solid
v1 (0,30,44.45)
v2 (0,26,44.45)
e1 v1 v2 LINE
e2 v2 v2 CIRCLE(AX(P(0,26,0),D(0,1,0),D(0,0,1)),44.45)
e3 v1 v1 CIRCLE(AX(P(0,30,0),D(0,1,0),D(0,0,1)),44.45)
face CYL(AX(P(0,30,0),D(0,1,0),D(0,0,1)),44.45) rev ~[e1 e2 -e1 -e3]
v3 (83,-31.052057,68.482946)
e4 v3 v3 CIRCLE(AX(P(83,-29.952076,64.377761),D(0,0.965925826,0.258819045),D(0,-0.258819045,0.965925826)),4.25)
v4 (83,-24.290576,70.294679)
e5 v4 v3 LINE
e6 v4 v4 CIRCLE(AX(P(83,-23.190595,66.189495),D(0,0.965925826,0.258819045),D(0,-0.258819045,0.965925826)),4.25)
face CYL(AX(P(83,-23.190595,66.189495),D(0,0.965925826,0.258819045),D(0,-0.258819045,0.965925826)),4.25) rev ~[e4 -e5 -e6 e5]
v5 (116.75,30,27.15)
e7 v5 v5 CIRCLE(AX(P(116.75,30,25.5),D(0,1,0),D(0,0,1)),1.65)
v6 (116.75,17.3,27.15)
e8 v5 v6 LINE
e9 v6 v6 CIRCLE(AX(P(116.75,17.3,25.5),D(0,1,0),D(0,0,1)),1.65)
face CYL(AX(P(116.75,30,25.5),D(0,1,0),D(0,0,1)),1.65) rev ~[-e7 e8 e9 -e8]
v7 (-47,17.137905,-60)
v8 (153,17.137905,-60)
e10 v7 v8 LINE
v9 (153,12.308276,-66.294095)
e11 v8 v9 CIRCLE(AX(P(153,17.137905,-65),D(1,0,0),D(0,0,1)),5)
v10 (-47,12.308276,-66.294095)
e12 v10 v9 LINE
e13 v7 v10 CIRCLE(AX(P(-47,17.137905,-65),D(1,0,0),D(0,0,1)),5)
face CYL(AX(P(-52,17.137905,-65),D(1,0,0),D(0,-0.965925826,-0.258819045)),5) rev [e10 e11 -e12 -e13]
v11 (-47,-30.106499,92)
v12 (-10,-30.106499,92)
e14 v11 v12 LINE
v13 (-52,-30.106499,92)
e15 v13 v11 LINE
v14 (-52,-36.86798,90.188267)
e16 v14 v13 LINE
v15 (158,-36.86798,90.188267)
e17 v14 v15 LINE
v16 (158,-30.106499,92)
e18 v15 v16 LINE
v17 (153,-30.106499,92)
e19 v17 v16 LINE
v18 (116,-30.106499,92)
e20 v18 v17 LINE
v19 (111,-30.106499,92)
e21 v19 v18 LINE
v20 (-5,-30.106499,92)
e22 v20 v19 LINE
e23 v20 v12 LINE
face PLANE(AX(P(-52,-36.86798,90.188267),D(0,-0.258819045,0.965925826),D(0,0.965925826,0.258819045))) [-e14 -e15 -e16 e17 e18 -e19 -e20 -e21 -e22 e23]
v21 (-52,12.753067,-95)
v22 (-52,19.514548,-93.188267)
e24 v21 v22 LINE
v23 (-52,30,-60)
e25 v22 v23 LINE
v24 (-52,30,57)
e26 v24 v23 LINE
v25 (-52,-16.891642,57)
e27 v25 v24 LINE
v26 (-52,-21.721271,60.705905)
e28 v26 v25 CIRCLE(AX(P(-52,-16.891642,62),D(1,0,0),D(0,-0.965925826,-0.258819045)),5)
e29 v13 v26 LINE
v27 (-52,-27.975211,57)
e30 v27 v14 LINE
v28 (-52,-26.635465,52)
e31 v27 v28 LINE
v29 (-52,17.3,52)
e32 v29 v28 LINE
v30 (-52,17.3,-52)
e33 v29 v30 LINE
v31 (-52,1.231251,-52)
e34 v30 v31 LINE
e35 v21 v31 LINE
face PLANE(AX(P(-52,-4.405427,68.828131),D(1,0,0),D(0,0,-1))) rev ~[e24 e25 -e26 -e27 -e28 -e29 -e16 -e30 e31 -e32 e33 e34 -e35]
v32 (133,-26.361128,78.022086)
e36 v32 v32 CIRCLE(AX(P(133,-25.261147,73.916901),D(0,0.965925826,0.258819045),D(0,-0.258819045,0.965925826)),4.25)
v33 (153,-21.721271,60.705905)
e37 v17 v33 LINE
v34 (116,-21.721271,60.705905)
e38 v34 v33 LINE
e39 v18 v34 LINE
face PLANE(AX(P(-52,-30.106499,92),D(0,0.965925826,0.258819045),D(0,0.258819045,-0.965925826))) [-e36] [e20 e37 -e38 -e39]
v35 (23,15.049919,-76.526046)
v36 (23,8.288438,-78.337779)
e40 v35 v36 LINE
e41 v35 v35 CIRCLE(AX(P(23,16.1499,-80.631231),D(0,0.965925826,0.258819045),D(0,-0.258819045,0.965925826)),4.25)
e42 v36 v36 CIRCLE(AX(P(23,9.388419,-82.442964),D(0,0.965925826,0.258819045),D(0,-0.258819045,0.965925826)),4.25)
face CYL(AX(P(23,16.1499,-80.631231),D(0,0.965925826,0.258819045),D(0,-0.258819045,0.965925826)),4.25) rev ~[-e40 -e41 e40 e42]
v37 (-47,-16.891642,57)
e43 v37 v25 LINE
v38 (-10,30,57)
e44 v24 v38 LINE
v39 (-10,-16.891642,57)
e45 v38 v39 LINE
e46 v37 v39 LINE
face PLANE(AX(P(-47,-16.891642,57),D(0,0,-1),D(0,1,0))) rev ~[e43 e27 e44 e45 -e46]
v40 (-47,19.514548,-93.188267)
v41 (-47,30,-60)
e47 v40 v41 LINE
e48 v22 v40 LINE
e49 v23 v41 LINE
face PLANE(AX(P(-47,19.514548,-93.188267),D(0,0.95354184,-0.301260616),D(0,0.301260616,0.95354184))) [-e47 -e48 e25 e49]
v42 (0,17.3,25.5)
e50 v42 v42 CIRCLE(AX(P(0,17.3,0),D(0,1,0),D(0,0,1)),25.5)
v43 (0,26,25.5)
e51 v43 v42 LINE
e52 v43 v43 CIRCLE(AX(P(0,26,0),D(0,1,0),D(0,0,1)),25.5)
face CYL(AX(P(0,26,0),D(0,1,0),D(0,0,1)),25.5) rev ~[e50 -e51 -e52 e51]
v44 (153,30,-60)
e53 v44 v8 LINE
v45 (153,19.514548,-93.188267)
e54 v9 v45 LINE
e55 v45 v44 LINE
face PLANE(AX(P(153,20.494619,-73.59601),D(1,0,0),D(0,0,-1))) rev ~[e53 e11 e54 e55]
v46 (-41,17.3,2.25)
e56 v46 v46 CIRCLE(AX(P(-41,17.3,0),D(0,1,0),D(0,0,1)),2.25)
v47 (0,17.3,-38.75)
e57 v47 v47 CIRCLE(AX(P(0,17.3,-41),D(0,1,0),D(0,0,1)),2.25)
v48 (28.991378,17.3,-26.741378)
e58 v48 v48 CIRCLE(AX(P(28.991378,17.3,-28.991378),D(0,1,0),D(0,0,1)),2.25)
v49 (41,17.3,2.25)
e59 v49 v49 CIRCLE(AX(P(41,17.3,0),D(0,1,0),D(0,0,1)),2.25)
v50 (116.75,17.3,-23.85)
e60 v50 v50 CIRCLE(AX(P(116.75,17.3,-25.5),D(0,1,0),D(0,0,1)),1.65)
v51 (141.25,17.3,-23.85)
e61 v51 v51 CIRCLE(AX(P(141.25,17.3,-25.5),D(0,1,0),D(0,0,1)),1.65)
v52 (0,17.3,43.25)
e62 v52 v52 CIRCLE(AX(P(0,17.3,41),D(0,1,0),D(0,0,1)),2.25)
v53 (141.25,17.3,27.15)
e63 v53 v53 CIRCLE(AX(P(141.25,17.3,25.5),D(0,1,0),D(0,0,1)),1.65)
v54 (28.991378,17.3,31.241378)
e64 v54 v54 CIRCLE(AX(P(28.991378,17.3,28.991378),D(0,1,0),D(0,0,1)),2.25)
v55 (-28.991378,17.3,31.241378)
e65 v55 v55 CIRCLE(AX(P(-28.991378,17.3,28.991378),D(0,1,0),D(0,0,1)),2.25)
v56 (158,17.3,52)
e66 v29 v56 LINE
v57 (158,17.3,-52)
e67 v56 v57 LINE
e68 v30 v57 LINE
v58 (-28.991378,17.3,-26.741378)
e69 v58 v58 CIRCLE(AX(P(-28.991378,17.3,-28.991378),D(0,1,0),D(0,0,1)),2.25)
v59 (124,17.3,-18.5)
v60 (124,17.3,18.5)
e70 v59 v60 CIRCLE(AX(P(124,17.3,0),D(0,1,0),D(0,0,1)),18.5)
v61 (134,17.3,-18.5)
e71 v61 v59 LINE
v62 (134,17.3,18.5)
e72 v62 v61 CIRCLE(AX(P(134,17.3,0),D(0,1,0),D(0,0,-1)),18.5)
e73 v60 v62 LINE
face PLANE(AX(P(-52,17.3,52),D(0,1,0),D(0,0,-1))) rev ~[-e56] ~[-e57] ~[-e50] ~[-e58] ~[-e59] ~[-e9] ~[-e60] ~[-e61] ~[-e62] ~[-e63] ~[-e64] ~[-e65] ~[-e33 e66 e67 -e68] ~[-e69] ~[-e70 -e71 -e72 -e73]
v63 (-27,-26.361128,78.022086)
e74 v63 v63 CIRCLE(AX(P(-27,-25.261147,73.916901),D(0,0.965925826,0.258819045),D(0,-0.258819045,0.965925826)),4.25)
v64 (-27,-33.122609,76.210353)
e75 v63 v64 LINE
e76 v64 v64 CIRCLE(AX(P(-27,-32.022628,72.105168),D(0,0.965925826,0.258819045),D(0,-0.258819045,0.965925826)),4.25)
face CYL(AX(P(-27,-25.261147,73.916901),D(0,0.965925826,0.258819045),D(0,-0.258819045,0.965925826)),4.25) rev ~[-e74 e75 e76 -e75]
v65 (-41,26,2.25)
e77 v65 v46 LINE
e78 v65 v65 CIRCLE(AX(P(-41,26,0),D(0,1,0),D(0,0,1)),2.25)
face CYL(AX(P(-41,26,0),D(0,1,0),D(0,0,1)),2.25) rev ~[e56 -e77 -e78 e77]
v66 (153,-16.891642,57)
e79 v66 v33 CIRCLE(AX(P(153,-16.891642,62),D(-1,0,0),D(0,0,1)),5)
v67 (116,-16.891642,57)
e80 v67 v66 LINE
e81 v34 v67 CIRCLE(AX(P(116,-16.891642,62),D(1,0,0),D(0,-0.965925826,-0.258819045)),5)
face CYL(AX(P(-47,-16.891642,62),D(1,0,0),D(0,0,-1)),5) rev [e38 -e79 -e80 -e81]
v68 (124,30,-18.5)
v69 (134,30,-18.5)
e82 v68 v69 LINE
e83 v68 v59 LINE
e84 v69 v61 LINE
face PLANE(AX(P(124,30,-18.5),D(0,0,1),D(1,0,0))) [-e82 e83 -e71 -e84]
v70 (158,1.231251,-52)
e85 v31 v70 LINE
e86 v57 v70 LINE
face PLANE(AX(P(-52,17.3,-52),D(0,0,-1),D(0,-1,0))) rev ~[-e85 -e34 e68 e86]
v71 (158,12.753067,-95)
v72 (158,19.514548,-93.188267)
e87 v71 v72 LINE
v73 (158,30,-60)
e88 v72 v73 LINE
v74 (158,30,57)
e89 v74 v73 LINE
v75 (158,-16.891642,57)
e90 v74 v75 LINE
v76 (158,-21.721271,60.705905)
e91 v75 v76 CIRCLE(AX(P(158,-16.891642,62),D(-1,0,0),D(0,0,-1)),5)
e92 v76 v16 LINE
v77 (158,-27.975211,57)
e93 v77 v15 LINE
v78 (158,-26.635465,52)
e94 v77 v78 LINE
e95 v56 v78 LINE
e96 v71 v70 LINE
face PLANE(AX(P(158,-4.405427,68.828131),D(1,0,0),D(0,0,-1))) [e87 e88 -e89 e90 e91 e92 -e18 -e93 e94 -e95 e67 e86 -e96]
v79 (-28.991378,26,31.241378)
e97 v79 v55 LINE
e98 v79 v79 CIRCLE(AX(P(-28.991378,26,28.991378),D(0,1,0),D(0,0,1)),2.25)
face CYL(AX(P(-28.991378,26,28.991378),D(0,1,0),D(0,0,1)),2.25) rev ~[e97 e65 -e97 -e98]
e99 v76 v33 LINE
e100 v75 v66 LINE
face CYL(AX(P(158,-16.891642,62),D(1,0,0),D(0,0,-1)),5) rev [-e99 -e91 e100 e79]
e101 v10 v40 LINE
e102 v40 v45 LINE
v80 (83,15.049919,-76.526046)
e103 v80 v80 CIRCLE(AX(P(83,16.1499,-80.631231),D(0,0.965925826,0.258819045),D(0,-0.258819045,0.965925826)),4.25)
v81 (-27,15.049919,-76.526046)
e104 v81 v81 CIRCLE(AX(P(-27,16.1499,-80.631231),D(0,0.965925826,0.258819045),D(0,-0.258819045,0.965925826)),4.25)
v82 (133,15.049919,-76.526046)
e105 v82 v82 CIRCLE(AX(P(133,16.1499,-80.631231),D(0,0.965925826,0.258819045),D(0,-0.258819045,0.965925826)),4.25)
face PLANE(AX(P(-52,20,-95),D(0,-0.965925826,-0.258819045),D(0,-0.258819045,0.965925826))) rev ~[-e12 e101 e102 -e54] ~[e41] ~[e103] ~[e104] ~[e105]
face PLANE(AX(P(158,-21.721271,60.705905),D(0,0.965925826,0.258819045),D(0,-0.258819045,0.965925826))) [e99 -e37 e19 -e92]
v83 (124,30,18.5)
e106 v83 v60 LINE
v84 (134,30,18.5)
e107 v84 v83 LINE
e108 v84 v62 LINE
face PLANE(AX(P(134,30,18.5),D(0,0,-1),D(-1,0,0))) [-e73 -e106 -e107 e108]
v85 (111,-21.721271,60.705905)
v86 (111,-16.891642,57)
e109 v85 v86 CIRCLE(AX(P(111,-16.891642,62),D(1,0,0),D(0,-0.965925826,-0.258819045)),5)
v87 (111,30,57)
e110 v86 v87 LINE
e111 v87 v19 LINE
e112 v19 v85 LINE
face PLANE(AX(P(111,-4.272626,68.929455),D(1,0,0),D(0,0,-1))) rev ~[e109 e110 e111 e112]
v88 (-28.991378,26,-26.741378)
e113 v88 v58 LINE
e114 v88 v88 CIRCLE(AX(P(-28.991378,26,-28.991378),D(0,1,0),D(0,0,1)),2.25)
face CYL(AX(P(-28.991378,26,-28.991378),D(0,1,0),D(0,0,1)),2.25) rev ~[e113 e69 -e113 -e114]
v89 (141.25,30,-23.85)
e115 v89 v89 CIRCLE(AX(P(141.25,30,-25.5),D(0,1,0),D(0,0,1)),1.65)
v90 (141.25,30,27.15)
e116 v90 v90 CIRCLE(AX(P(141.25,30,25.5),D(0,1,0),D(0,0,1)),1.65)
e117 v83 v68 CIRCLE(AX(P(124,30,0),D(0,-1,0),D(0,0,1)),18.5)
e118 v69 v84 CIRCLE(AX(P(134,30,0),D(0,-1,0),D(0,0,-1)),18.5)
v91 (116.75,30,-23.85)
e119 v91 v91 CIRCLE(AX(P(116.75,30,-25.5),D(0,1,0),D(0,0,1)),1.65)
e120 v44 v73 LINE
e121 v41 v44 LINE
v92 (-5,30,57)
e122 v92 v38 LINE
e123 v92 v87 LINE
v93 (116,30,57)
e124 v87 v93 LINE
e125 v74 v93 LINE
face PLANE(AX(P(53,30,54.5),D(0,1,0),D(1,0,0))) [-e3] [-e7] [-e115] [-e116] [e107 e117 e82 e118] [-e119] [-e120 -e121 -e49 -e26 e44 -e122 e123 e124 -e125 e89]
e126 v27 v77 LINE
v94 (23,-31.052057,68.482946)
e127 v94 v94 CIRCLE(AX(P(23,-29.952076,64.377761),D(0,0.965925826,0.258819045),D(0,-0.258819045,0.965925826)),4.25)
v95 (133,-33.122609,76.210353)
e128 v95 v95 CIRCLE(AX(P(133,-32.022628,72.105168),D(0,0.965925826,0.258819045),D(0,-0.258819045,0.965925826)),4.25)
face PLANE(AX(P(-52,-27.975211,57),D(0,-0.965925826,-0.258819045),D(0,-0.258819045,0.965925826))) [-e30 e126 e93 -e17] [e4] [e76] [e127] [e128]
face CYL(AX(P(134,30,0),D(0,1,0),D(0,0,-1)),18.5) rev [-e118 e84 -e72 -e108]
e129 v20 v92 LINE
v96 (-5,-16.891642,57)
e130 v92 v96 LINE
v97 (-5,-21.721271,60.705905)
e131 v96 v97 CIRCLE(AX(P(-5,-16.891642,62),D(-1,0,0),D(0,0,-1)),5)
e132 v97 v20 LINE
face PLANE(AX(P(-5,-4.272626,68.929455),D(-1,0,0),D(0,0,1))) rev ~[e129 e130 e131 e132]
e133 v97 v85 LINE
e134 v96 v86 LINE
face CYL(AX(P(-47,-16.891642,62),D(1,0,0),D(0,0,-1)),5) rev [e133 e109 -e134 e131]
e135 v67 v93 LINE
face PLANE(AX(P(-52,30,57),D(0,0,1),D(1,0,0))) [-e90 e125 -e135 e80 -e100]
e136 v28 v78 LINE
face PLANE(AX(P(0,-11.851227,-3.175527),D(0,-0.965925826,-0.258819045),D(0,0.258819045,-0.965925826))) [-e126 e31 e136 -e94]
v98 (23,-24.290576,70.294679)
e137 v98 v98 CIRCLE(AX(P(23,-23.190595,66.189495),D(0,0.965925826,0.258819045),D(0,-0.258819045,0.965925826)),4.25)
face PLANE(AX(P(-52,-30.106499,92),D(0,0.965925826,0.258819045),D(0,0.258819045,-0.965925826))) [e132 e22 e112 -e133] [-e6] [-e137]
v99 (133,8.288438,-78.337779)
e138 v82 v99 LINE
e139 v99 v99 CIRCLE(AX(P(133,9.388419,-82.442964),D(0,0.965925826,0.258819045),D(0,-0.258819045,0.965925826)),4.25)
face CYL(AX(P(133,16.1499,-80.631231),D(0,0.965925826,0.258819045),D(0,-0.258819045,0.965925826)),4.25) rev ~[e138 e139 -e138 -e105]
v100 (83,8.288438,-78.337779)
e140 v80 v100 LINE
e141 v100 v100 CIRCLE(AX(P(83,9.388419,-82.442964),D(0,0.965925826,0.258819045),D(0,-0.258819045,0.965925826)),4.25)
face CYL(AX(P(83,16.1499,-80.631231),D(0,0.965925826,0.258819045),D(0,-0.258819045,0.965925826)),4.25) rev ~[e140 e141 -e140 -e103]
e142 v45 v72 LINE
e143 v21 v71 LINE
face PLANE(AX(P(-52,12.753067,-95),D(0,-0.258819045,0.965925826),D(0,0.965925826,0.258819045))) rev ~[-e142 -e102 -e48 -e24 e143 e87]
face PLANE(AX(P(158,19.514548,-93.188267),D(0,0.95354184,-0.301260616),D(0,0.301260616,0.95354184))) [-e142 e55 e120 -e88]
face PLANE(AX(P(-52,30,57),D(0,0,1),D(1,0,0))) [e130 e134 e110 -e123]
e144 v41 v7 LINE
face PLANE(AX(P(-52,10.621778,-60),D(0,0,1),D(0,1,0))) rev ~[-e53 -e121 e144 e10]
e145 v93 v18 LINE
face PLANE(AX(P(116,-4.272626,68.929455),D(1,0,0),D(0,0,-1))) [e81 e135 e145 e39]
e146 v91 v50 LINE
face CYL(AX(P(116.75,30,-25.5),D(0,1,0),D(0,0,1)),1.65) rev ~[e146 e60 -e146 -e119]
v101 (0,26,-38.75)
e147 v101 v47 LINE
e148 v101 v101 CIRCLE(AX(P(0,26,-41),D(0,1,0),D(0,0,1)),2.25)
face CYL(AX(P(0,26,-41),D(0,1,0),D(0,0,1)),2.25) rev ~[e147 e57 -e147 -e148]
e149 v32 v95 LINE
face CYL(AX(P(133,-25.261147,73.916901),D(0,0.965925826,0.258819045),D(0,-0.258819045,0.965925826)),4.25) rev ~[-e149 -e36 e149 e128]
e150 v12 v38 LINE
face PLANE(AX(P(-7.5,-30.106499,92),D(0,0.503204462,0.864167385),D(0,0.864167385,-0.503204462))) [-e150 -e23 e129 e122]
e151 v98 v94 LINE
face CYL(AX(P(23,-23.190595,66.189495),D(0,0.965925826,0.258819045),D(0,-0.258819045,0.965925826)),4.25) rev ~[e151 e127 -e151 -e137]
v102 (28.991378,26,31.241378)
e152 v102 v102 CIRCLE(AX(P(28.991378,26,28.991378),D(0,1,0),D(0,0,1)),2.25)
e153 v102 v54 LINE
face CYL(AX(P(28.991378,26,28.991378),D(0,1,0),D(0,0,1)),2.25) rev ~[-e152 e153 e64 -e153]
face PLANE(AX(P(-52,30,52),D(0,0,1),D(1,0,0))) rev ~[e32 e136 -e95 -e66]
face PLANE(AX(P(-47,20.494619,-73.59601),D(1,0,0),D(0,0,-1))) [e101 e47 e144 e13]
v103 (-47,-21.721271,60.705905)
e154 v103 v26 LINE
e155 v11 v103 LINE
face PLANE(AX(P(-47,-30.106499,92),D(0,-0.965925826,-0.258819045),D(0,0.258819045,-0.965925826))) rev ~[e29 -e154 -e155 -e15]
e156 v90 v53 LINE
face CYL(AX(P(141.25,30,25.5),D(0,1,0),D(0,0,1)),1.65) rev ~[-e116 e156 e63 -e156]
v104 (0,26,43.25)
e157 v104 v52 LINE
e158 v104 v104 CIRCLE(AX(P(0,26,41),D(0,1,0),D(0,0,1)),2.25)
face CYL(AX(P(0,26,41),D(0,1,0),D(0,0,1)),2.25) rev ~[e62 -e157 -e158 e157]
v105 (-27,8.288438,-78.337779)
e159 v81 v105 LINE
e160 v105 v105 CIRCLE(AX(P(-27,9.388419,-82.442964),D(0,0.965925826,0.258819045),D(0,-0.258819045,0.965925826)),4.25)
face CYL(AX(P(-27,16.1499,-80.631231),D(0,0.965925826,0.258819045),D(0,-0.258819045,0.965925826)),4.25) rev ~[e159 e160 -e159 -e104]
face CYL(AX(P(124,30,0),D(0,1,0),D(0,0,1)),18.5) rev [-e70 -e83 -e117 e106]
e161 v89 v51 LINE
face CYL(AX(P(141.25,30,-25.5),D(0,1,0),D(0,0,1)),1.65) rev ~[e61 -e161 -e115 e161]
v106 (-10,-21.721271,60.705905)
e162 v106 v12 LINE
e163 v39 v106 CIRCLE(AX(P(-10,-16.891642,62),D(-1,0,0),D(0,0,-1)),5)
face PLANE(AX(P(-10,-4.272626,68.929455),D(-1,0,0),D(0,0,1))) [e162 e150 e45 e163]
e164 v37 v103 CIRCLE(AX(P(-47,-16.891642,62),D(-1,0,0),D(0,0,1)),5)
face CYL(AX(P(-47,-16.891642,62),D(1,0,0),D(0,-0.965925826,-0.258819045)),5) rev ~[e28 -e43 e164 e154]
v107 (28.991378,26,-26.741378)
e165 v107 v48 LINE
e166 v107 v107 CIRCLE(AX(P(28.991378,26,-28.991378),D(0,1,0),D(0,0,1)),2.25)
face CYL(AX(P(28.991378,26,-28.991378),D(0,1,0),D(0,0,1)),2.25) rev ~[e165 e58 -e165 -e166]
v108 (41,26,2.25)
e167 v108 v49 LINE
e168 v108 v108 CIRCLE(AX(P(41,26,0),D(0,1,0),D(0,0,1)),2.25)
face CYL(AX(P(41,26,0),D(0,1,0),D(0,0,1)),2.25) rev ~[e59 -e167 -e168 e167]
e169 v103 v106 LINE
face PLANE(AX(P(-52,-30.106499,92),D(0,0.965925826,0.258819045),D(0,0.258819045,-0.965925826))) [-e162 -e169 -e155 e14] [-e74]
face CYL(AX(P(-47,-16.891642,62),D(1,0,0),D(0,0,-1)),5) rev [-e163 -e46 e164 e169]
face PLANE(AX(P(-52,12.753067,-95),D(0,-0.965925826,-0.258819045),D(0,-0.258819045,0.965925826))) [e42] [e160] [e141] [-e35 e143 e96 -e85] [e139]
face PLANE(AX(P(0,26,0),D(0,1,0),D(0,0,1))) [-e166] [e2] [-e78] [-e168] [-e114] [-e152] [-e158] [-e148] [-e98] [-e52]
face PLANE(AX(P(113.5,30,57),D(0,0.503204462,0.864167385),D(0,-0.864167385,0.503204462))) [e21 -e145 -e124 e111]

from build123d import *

# Parameters (mm, degrees)
EXTRUDE_1_DEPTH      = 30
SKETCH_2_R           = 44.45
CUT_EXTRUDE_1_DEPTH  = 4
SKETCH_3_R           = 25.5
SKETCH_3_R_2         = 2.25
CUT_EXTRUDE_2_DEPTH  = 188.619295383
CUT_EXTRUDE_3_DEPTH  = 189.215302247
SKETCH_5_R           = 1.65
CUT_EXTRUDE_4_DEPTH  = 189.215302247
EXTRUDE_START        = -30
EXTRUDE_2_DEPTH      = 30
CUT_EXTRUDE_5_DEPTH  = 198.040604952
CUT_EXTRUDE_7_DEPTH  = 233.432785983
CUT_EXTRUDE_8_DEPTH  = 233.432785983
CUT_EXTRUDE_9_DEPTH  = 233.432785983
FILLET_1_R           = 5
CUT_EXTRUDE_10_DEPTH = 233.432785983
EXTRUDE_START_2      = -5
EXTRUDE_3_DEPTH      = 5
EXTRUDE_4_DEPTH      = 5
SKETCH_14_R          = 4.25
CUT_EXTRUDE_11_DEPTH = 189.364728478
SKETCH_16_W          = 43
SKETCH_16_H          = 30
CUT_EXTRUDE_12_DEPTH = 233.432785983
EXTRUDE_7_REACH      = 188.592
SKETCH_18_W          = 210
SKETCH_18_H          = 5
EXTRUDE_8_DEPTH      = 210
EXTRUDE_9_DEPTH      = 5
EXTRUDE_10_DEPTH     = 5
SKETCH_22_R          = 4.25
CUT_EXTRUDE_13_DEPTH = 187.984035343
FILLET_2_R           = 5
EXTRUDE_11_DEPTH     = 2.5
EXTRUDE_12_DEPTH     = 2.5
CUT_EXTRUDE_15_DEPTH = 5
CUT_EXTRUDE_START    = -5
CUT_EXTRUDE_16_DEPTH = 5


with BuildPart() as part:
    # 草图1 → 凸台-拉伸1 (new body)
    with BuildSketch(Plane(origin=(0, 0, 0), x_dir=(1, 0, 0), z_dir=(0, 1, 0))):
        with BuildLine():
            Line((170, 31.93), (170, -31.93))
            ThreePointArc((170, -31.93), (167.781993847, -38.210172909), (162.111885646, -41.704453387))
            Line((162.111885646, -41.704453387), (15.839142344, -73.308400404))
            ThreePointArc((15.839142344, -73.308400404), (-75, 0), (15.839142344, 73.308400404))
            Line((15.839142344, 73.308400404), (162.111885646, 41.704453387))
            ThreePointArc((162.111885646, 41.704453387), (167.781993847, 38.210172909), (170, 31.93))
        make_face()
    extrude(amount=EXTRUDE_1_DEPTH)

    # 草图2 → 切除-拉伸1 (cut)
    with BuildSketch(Plane(origin=(0, 30, 0), x_dir=(1, 0, 0), z_dir=(0, 1, 0))):
        with Locations(Location((0, 0, 0), (0, 0, 270))):
            Circle(SKETCH_2_R)
    extrude(amount=-CUT_EXTRUDE_1_DEPTH, mode=Mode.SUBTRACT)

    # 草图3 → 切除-拉伸2 (cut, through all)
    with BuildSketch(Plane(origin=(0, 26, 0), x_dir=(1, 0, 0), z_dir=(0, 1, 0))):
        with Locations(Location((0, 0, 0), (0, 0, 270))):
            Circle(SKETCH_3_R)
        with Locations(Location((0, 41, 0), (0, 0, 270))):
            Circle(SKETCH_3_R_2)
        with Locations(Location((28.991378029, 28.991378029, 0), (0, 0, 270))):
            Circle(SKETCH_3_R_2)
        with Locations(Location((41, 0, 0), (0, 0, 270))):
            Circle(SKETCH_3_R_2)
        with Locations(Location((28.991378029, -28.991378029, 0), (0, 0, 270))):
            Circle(SKETCH_3_R_2)
        with Locations(Location((0, -41, 0), (0, 0, 270))):
            Circle(SKETCH_3_R_2)
        with Locations(Location((-28.991378029, -28.991378029, 0), (0, 0, 270))):
            Circle(SKETCH_3_R_2)
        with Locations(Location((-41, 0, 0), (0, 0, 270))):
            Circle(SKETCH_3_R_2)
        with Locations(Location((-28.991378029, 28.991378029, 0), (0, 0, 270))):
            Circle(SKETCH_3_R_2)
    extrude(amount=-CUT_EXTRUDE_2_DEPTH, mode=Mode.SUBTRACT)

    # 草图4 → 切除-拉伸3 (cut, through all)
    with BuildSketch(Plane(origin=(0, 30, 0), x_dir=(1, 0, 0), z_dir=(0, 1, 0))):
        with BuildLine():
            Line((124, 18.5), (134, 18.5))
            ThreePointArc((134, 18.5), (152.5, 0), (134, -18.5))
            Line((134, -18.5), (124, -18.5))
            ThreePointArc((124, -18.5), (105.5, 0), (124, 18.5))
        make_face()
    extrude(amount=-CUT_EXTRUDE_3_DEPTH, mode=Mode.SUBTRACT)

    # 草图5 → 切除-拉伸4 (cut, through all)
    with BuildSketch(Plane(origin=(0, 30, 0), x_dir=(1, 0, 0), z_dir=(0, 1, 0))):
        with Locations(Location((116.75, 25.5, 0), (0, 0, 270))):
            Circle(SKETCH_5_R)
        with Locations(Location((141.25, 25.5, 0), (0, 0, 270))):
            Circle(SKETCH_5_R)
        with Locations(Location((141.25, -25.5, 0), (0, 0, 270))):
            Circle(SKETCH_5_R)
        with Locations(Location((116.75, -25.5, 0), (0, 0, 270))):
            Circle(SKETCH_5_R)
    extrude(amount=-CUT_EXTRUDE_4_DEPTH, mode=Mode.SUBTRACT)

    # 草图6 → 凸台-拉伸2 (add)
    with BuildSketch(Plane(origin=(0, 30, 0), x_dir=(1, 0, 0), z_dir=(0, 1, 0)).offset(EXTRUDE_START)):
        with BuildLine():
            Line((158, 95), (-52, 95))
            Line((-52, 95), (-52, 54.046276467))
            ThreePointArc((-52, 54.046276467), (-20.48558667, 72.148047366), (15.839142344, 73.308400404))
            Line((15.839142344, 73.308400404), (158, 42.592874655))
            Line((158, 42.592874655), (158, 95))
        make_face()
        with BuildLine():
            ThreePointArc((15.839142344, -73.308400404), (-20.48558667, -72.148047366), (-52, -54.046276467))
            Line((-52, -54.046276467), (-52, -95))
            Line((-52, -95), (158, -95))
            Line((158, -95), (158, -42.592874655))
            Line((158, -42.592874655), (15.839142344, -73.308400404))
        make_face()
    extrude(amount=EXTRUDE_2_DEPTH)

    # 草图7 → 切除-拉伸5 (cut, through all)
    with BuildSketch(Plane(origin=(0, 30, 0), x_dir=(1, 0, 0), z_dir=(0, 1, 0))):
        with BuildLine():
            Line((-52, 54.046276467), (-52, -54.046276467))
            ThreePointArc((-52, -54.046276467), (-75, 0), (-52, 54.046276467))
        make_face()
        with BuildLine():
            Line((158, 42.592874655), (158, -42.592874655))
            Line((158, -42.592874655), (162.111885646, -41.704453387))
            ThreePointArc((162.111885646, -41.704453387), (167.781993847, -38.210172909), (170, -31.93))
            Line((170, -31.93), (170, 31.93))
            ThreePointArc((170, 31.93), (167.781993847, 38.210172909), (162.111885646, 41.704453387))
            Line((162.111885646, 41.704453387), (158, 42.592874655))
        make_face()
    extrude(amount=-CUT_EXTRUDE_5_DEPTH, mode=Mode.SUBTRACT)

    # 草图9 → 切除-拉伸7 (cut, through all)
    with BuildSketch(Plane.ZY.offset(52)):
        Polygon((-95, 20), (-60, 10.621778265), (-60, 30), (-95, 30), align=None)
    extrude(amount=-CUT_EXTRUDE_7_DEPTH, mode=Mode.SUBTRACT)

    # 草图10 → 切除-拉伸8 (cut, through all)
    with BuildSketch(Plane.ZY.offset(52)):
        Polygon((-95, 12.753066737), (-52, 1.231251463), (-52, 0), (-95, 0), align=None)
    extrude(amount=-CUT_EXTRUDE_8_DEPTH, mode=Mode.SUBTRACT)

    # 草图8 → 切除-拉伸9 (cut, through all)
    with BuildSketch(Plane.ZY.offset(52)):
        Polygon((0, 0), (52, 0), (52, 17.3), (-52, 17.3), (-52, 0), align=None)
    extrude(amount=-CUT_EXTRUDE_9_DEPTH, mode=Mode.SUBTRACT)

    # 圆角1
    fillet_1_edges = [part.edges().sort_by_distance(p)[0] for p in [
        (53, 10.621778265, -60),
    ]]
    fillet(fillet_1_edges, radius=FILLET_1_R)

    # 草图11 → 切除-拉伸10 (cut, through all)
    with BuildSketch(Plane.ZY.offset(52)):
        Polygon((-95, 12.753066737), (-93.188266684, 19.514547521), (-95, 20), align=None)
    extrude(amount=-CUT_EXTRUDE_10_DEPTH, mode=Mode.SUBTRACT)

    # 草图12 → 凸台-拉伸3 (add)
    with BuildSketch(Plane.ZY.offset(52).offset(EXTRUDE_START_2)):
        with BuildLine():
            Line((-93.188266684, 19.514547521), (-60, 30))
            Line((-60, 30), (-60, 17.137905129))
            ThreePointArc((-60, 17.137905129), (-61.956192855, 13.171138428), (-66.294095226, 12.308275998))
            Line((-66.294095226, 12.308275998), (-93.188266684, 19.514547521))
        make_face()
    extrude(amount=EXTRUDE_3_DEPTH)

    # 草图13 → 凸台-拉伸4 (add)
    with BuildSketch(Plane(origin=(158, 0, 0), x_dir=(0, 0, -1), z_dir=(1, 0, 0))):
        with BuildLine():
            Line((66.294095226, 12.308275998), (93.188266684, 19.514547521))
            Line((93.188266684, 19.514547521), (60, 30))
            Line((60, 30), (60, 17.137905129))
            ThreePointArc((60, 17.137905129), (61.956192855, 13.171138428), (66.294095226, 12.308275998))
        make_face()
    extrude(amount=-EXTRUDE_4_DEPTH)

    # 草图14 → 切除-拉伸11 (cut, through all)
    with BuildSketch(Plane(origin=(0, -5.089745962, -1.36379332), x_dir=(1, 0, 0), z_dir=(0, 0.9659258262890681, 0.2588190451025214))):
        with Locations(Location((-27, 82.063690052, 0), (0, 0, 270))):
            Circle(SKETCH_14_R)
        with Locations(Location((23, 82.063690052, 0), (0, 0, 270))):
            Circle(SKETCH_14_R)
        with Locations(Location((83, 82.063690052, 0), (0, 0, 270))):
            Circle(SKETCH_14_R)
        with Locations(Location((133, 82.063690052, 0), (0, 0, 270))):
            Circle(SKETCH_14_R)
    extrude(amount=-CUT_EXTRUDE_11_DEPTH, mode=Mode.SUBTRACT)

    # 草图16 → 切除-拉伸12 (cut, through all)
    with BuildSketch(Plane.ZY.offset(52)):
        with Locations((73.5, 15)):
            Rectangle(SKETCH_16_W, SKETCH_16_H)
    extrude(amount=-CUT_EXTRUDE_12_DEPTH, mode=Mode.SUBTRACT)

    # 凸台-拉伸7: up to this plane
    extrude_7_end = Plane(origin=(0, -11.851226746, -3.175526636), z_dir=(0, -0.9659258262890681, -0.25881904510252146))
    # 草图18 → 凸台-拉伸7 (add, up to the surface)
    with BuildSketch(Plane(origin=(0, 30, 0), x_dir=(1, 0, 0), z_dir=(0, 1, 0)), mode=Mode.PRIVATE) as extrude_7_sk1:
        with Locations((53, -54.5)):
            Rectangle(SKETCH_18_W, SKETCH_18_H)
    extrude_7_tool1 = split(extrude(extrude_7_sk1.sketch, amount=-EXTRUDE_7_REACH, mode=Mode.PRIVATE), bisect_by=extrude_7_end, keep=Keep.BOTH, mode=Mode.PRIVATE)
    add(extrude_7_tool1.solids().sort_by_distance((53, 30, 54.5))[0])

    # 草图19 → 凸台-拉伸8 (add)
    with BuildSketch(Plane.ZY.offset(52)):
        Polygon((57, -27.975210512), (90.188266684, -36.867979769), (92, -30.106498985), (57, -20.72827725), align=None)
    extrude(amount=-EXTRUDE_8_DEPTH)

    # 草图20 → 凸台-拉伸9 (add)
    with BuildSketch(Plane.ZY.offset(52)):
        Polygon((92, -30.106498985), (57, -20.72827725), (57, 30), align=None)
    extrude(amount=-EXTRUDE_9_DEPTH)

    # 草图21 → 凸台-拉伸10 (add)
    with BuildSketch(Plane(origin=(158, 0, 0), x_dir=(0, 0, -1), z_dir=(1, 0, 0))):
        Polygon((-57, 30), (-92, -30.106498985), (-57, -20.72827725), align=None)
    extrude(amount=-EXTRUDE_10_DEPTH)

    # 草图22 → 切除-拉伸13 (cut, through all)
    with BuildSketch(Plane(origin=(0, -5.089745962, -1.36379332), x_dir=(1, 0, 0), z_dir=(0, 0.9659258262890686, 0.25881904510251946))):
        with Locations(Location((-27, -77.936309948, 0), (0, 0, 270))):
            Circle(SKETCH_22_R)
        with Locations(Location((23, -69.936309948, 0), (0, 0, 270))):
            Circle(SKETCH_22_R)
        with Locations(Location((83, -69.936309948, 0), (0, 0, 270))):
            Circle(SKETCH_22_R)
        with Locations(Location((133, -77.936309948, 0), (0, 0, 270))):
            Circle(SKETCH_22_R)
    extrude(amount=-CUT_EXTRUDE_13_DEPTH, mode=Mode.SUBTRACT)

    # 圆角2
    fillet_2_edges = [part.edges().sort_by_distance(p)[0] for p in [
        (53, -20.72827725, 57),
    ]]
    fillet(fillet_2_edges, radius=FILLET_2_R)

    # 草图25 → 凸台-拉伸11 (add, symmetric)
    with BuildSketch(Plane.ZY.offset(7.5)):
        with BuildLine():
            Line((60.705904774, -21.721271441), (92, -30.106498985))
            Line((92, -30.106498985), (57, 30))
            Line((57, 30), (57, -16.89164231))
            ThreePointArc((57, -16.89164231), (58.033233299, -19.935449455), (60.705904774, -21.721271441))
        make_face()
    extrude(amount=EXTRUDE_11_DEPTH, both=True)

    # 草图26 → 凸台-拉伸12 (add, symmetric)
    with BuildSketch(Plane(origin=(113.5, 0, 0), x_dir=(0, 0, -1), z_dir=(1, 0, 0))):
        with BuildLine():
            Line((-57, -16.89164231), (-57, 30))
            Line((-57, 30), (-92, -30.106498985))
            Line((-92, -30.106498985), (-60.705904774, -21.721271441))
            ThreePointArc((-60.705904774, -21.721271441), (-58.033233299, -19.935449455), (-57, -16.89164231))
        make_face()
    extrude(amount=EXTRUDE_12_DEPTH, both=True)

    # 草图27 → 切除-拉伸15 (cut)
    with BuildSketch(Plane(origin=(-47, 0, 0), x_dir=(0, 0, -1), z_dir=(1, 0, 0))):
        with BuildLine():
            Line((-92, -30.106498985), (-60.705904774, -21.721271441))
            ThreePointArc((-60.705904774, -21.721271441), (-58.033233299, -19.935449455), (-57, -16.89164231))
            Line((-57, -16.89164231), (-57, 30))
            Line((-57, 30), (-92, -30.106498985))
        make_face()
    extrude(amount=-CUT_EXTRUDE_15_DEPTH, mode=Mode.SUBTRACT)

    # 草图28 → 切除-拉伸16 (cut)
    with BuildSketch(Plane.ZY.offset(-153).offset(CUT_EXTRUDE_START)):
        with BuildLine():
            Line((57, 30), (57, -16.89164231))
            ThreePointArc((57, -16.89164231), (58.033233299, -19.935449455), (60.705904774, -21.721271441))
            Line((60.705904774, -21.721271441), (92, -30.106498985))
            Line((92, -30.106498985), (57, 30))
        make_face()
    extrude(amount=CUT_EXTRUDE_16_DEPTH, mode=Mode.SUBTRACT)


solid = part.part
